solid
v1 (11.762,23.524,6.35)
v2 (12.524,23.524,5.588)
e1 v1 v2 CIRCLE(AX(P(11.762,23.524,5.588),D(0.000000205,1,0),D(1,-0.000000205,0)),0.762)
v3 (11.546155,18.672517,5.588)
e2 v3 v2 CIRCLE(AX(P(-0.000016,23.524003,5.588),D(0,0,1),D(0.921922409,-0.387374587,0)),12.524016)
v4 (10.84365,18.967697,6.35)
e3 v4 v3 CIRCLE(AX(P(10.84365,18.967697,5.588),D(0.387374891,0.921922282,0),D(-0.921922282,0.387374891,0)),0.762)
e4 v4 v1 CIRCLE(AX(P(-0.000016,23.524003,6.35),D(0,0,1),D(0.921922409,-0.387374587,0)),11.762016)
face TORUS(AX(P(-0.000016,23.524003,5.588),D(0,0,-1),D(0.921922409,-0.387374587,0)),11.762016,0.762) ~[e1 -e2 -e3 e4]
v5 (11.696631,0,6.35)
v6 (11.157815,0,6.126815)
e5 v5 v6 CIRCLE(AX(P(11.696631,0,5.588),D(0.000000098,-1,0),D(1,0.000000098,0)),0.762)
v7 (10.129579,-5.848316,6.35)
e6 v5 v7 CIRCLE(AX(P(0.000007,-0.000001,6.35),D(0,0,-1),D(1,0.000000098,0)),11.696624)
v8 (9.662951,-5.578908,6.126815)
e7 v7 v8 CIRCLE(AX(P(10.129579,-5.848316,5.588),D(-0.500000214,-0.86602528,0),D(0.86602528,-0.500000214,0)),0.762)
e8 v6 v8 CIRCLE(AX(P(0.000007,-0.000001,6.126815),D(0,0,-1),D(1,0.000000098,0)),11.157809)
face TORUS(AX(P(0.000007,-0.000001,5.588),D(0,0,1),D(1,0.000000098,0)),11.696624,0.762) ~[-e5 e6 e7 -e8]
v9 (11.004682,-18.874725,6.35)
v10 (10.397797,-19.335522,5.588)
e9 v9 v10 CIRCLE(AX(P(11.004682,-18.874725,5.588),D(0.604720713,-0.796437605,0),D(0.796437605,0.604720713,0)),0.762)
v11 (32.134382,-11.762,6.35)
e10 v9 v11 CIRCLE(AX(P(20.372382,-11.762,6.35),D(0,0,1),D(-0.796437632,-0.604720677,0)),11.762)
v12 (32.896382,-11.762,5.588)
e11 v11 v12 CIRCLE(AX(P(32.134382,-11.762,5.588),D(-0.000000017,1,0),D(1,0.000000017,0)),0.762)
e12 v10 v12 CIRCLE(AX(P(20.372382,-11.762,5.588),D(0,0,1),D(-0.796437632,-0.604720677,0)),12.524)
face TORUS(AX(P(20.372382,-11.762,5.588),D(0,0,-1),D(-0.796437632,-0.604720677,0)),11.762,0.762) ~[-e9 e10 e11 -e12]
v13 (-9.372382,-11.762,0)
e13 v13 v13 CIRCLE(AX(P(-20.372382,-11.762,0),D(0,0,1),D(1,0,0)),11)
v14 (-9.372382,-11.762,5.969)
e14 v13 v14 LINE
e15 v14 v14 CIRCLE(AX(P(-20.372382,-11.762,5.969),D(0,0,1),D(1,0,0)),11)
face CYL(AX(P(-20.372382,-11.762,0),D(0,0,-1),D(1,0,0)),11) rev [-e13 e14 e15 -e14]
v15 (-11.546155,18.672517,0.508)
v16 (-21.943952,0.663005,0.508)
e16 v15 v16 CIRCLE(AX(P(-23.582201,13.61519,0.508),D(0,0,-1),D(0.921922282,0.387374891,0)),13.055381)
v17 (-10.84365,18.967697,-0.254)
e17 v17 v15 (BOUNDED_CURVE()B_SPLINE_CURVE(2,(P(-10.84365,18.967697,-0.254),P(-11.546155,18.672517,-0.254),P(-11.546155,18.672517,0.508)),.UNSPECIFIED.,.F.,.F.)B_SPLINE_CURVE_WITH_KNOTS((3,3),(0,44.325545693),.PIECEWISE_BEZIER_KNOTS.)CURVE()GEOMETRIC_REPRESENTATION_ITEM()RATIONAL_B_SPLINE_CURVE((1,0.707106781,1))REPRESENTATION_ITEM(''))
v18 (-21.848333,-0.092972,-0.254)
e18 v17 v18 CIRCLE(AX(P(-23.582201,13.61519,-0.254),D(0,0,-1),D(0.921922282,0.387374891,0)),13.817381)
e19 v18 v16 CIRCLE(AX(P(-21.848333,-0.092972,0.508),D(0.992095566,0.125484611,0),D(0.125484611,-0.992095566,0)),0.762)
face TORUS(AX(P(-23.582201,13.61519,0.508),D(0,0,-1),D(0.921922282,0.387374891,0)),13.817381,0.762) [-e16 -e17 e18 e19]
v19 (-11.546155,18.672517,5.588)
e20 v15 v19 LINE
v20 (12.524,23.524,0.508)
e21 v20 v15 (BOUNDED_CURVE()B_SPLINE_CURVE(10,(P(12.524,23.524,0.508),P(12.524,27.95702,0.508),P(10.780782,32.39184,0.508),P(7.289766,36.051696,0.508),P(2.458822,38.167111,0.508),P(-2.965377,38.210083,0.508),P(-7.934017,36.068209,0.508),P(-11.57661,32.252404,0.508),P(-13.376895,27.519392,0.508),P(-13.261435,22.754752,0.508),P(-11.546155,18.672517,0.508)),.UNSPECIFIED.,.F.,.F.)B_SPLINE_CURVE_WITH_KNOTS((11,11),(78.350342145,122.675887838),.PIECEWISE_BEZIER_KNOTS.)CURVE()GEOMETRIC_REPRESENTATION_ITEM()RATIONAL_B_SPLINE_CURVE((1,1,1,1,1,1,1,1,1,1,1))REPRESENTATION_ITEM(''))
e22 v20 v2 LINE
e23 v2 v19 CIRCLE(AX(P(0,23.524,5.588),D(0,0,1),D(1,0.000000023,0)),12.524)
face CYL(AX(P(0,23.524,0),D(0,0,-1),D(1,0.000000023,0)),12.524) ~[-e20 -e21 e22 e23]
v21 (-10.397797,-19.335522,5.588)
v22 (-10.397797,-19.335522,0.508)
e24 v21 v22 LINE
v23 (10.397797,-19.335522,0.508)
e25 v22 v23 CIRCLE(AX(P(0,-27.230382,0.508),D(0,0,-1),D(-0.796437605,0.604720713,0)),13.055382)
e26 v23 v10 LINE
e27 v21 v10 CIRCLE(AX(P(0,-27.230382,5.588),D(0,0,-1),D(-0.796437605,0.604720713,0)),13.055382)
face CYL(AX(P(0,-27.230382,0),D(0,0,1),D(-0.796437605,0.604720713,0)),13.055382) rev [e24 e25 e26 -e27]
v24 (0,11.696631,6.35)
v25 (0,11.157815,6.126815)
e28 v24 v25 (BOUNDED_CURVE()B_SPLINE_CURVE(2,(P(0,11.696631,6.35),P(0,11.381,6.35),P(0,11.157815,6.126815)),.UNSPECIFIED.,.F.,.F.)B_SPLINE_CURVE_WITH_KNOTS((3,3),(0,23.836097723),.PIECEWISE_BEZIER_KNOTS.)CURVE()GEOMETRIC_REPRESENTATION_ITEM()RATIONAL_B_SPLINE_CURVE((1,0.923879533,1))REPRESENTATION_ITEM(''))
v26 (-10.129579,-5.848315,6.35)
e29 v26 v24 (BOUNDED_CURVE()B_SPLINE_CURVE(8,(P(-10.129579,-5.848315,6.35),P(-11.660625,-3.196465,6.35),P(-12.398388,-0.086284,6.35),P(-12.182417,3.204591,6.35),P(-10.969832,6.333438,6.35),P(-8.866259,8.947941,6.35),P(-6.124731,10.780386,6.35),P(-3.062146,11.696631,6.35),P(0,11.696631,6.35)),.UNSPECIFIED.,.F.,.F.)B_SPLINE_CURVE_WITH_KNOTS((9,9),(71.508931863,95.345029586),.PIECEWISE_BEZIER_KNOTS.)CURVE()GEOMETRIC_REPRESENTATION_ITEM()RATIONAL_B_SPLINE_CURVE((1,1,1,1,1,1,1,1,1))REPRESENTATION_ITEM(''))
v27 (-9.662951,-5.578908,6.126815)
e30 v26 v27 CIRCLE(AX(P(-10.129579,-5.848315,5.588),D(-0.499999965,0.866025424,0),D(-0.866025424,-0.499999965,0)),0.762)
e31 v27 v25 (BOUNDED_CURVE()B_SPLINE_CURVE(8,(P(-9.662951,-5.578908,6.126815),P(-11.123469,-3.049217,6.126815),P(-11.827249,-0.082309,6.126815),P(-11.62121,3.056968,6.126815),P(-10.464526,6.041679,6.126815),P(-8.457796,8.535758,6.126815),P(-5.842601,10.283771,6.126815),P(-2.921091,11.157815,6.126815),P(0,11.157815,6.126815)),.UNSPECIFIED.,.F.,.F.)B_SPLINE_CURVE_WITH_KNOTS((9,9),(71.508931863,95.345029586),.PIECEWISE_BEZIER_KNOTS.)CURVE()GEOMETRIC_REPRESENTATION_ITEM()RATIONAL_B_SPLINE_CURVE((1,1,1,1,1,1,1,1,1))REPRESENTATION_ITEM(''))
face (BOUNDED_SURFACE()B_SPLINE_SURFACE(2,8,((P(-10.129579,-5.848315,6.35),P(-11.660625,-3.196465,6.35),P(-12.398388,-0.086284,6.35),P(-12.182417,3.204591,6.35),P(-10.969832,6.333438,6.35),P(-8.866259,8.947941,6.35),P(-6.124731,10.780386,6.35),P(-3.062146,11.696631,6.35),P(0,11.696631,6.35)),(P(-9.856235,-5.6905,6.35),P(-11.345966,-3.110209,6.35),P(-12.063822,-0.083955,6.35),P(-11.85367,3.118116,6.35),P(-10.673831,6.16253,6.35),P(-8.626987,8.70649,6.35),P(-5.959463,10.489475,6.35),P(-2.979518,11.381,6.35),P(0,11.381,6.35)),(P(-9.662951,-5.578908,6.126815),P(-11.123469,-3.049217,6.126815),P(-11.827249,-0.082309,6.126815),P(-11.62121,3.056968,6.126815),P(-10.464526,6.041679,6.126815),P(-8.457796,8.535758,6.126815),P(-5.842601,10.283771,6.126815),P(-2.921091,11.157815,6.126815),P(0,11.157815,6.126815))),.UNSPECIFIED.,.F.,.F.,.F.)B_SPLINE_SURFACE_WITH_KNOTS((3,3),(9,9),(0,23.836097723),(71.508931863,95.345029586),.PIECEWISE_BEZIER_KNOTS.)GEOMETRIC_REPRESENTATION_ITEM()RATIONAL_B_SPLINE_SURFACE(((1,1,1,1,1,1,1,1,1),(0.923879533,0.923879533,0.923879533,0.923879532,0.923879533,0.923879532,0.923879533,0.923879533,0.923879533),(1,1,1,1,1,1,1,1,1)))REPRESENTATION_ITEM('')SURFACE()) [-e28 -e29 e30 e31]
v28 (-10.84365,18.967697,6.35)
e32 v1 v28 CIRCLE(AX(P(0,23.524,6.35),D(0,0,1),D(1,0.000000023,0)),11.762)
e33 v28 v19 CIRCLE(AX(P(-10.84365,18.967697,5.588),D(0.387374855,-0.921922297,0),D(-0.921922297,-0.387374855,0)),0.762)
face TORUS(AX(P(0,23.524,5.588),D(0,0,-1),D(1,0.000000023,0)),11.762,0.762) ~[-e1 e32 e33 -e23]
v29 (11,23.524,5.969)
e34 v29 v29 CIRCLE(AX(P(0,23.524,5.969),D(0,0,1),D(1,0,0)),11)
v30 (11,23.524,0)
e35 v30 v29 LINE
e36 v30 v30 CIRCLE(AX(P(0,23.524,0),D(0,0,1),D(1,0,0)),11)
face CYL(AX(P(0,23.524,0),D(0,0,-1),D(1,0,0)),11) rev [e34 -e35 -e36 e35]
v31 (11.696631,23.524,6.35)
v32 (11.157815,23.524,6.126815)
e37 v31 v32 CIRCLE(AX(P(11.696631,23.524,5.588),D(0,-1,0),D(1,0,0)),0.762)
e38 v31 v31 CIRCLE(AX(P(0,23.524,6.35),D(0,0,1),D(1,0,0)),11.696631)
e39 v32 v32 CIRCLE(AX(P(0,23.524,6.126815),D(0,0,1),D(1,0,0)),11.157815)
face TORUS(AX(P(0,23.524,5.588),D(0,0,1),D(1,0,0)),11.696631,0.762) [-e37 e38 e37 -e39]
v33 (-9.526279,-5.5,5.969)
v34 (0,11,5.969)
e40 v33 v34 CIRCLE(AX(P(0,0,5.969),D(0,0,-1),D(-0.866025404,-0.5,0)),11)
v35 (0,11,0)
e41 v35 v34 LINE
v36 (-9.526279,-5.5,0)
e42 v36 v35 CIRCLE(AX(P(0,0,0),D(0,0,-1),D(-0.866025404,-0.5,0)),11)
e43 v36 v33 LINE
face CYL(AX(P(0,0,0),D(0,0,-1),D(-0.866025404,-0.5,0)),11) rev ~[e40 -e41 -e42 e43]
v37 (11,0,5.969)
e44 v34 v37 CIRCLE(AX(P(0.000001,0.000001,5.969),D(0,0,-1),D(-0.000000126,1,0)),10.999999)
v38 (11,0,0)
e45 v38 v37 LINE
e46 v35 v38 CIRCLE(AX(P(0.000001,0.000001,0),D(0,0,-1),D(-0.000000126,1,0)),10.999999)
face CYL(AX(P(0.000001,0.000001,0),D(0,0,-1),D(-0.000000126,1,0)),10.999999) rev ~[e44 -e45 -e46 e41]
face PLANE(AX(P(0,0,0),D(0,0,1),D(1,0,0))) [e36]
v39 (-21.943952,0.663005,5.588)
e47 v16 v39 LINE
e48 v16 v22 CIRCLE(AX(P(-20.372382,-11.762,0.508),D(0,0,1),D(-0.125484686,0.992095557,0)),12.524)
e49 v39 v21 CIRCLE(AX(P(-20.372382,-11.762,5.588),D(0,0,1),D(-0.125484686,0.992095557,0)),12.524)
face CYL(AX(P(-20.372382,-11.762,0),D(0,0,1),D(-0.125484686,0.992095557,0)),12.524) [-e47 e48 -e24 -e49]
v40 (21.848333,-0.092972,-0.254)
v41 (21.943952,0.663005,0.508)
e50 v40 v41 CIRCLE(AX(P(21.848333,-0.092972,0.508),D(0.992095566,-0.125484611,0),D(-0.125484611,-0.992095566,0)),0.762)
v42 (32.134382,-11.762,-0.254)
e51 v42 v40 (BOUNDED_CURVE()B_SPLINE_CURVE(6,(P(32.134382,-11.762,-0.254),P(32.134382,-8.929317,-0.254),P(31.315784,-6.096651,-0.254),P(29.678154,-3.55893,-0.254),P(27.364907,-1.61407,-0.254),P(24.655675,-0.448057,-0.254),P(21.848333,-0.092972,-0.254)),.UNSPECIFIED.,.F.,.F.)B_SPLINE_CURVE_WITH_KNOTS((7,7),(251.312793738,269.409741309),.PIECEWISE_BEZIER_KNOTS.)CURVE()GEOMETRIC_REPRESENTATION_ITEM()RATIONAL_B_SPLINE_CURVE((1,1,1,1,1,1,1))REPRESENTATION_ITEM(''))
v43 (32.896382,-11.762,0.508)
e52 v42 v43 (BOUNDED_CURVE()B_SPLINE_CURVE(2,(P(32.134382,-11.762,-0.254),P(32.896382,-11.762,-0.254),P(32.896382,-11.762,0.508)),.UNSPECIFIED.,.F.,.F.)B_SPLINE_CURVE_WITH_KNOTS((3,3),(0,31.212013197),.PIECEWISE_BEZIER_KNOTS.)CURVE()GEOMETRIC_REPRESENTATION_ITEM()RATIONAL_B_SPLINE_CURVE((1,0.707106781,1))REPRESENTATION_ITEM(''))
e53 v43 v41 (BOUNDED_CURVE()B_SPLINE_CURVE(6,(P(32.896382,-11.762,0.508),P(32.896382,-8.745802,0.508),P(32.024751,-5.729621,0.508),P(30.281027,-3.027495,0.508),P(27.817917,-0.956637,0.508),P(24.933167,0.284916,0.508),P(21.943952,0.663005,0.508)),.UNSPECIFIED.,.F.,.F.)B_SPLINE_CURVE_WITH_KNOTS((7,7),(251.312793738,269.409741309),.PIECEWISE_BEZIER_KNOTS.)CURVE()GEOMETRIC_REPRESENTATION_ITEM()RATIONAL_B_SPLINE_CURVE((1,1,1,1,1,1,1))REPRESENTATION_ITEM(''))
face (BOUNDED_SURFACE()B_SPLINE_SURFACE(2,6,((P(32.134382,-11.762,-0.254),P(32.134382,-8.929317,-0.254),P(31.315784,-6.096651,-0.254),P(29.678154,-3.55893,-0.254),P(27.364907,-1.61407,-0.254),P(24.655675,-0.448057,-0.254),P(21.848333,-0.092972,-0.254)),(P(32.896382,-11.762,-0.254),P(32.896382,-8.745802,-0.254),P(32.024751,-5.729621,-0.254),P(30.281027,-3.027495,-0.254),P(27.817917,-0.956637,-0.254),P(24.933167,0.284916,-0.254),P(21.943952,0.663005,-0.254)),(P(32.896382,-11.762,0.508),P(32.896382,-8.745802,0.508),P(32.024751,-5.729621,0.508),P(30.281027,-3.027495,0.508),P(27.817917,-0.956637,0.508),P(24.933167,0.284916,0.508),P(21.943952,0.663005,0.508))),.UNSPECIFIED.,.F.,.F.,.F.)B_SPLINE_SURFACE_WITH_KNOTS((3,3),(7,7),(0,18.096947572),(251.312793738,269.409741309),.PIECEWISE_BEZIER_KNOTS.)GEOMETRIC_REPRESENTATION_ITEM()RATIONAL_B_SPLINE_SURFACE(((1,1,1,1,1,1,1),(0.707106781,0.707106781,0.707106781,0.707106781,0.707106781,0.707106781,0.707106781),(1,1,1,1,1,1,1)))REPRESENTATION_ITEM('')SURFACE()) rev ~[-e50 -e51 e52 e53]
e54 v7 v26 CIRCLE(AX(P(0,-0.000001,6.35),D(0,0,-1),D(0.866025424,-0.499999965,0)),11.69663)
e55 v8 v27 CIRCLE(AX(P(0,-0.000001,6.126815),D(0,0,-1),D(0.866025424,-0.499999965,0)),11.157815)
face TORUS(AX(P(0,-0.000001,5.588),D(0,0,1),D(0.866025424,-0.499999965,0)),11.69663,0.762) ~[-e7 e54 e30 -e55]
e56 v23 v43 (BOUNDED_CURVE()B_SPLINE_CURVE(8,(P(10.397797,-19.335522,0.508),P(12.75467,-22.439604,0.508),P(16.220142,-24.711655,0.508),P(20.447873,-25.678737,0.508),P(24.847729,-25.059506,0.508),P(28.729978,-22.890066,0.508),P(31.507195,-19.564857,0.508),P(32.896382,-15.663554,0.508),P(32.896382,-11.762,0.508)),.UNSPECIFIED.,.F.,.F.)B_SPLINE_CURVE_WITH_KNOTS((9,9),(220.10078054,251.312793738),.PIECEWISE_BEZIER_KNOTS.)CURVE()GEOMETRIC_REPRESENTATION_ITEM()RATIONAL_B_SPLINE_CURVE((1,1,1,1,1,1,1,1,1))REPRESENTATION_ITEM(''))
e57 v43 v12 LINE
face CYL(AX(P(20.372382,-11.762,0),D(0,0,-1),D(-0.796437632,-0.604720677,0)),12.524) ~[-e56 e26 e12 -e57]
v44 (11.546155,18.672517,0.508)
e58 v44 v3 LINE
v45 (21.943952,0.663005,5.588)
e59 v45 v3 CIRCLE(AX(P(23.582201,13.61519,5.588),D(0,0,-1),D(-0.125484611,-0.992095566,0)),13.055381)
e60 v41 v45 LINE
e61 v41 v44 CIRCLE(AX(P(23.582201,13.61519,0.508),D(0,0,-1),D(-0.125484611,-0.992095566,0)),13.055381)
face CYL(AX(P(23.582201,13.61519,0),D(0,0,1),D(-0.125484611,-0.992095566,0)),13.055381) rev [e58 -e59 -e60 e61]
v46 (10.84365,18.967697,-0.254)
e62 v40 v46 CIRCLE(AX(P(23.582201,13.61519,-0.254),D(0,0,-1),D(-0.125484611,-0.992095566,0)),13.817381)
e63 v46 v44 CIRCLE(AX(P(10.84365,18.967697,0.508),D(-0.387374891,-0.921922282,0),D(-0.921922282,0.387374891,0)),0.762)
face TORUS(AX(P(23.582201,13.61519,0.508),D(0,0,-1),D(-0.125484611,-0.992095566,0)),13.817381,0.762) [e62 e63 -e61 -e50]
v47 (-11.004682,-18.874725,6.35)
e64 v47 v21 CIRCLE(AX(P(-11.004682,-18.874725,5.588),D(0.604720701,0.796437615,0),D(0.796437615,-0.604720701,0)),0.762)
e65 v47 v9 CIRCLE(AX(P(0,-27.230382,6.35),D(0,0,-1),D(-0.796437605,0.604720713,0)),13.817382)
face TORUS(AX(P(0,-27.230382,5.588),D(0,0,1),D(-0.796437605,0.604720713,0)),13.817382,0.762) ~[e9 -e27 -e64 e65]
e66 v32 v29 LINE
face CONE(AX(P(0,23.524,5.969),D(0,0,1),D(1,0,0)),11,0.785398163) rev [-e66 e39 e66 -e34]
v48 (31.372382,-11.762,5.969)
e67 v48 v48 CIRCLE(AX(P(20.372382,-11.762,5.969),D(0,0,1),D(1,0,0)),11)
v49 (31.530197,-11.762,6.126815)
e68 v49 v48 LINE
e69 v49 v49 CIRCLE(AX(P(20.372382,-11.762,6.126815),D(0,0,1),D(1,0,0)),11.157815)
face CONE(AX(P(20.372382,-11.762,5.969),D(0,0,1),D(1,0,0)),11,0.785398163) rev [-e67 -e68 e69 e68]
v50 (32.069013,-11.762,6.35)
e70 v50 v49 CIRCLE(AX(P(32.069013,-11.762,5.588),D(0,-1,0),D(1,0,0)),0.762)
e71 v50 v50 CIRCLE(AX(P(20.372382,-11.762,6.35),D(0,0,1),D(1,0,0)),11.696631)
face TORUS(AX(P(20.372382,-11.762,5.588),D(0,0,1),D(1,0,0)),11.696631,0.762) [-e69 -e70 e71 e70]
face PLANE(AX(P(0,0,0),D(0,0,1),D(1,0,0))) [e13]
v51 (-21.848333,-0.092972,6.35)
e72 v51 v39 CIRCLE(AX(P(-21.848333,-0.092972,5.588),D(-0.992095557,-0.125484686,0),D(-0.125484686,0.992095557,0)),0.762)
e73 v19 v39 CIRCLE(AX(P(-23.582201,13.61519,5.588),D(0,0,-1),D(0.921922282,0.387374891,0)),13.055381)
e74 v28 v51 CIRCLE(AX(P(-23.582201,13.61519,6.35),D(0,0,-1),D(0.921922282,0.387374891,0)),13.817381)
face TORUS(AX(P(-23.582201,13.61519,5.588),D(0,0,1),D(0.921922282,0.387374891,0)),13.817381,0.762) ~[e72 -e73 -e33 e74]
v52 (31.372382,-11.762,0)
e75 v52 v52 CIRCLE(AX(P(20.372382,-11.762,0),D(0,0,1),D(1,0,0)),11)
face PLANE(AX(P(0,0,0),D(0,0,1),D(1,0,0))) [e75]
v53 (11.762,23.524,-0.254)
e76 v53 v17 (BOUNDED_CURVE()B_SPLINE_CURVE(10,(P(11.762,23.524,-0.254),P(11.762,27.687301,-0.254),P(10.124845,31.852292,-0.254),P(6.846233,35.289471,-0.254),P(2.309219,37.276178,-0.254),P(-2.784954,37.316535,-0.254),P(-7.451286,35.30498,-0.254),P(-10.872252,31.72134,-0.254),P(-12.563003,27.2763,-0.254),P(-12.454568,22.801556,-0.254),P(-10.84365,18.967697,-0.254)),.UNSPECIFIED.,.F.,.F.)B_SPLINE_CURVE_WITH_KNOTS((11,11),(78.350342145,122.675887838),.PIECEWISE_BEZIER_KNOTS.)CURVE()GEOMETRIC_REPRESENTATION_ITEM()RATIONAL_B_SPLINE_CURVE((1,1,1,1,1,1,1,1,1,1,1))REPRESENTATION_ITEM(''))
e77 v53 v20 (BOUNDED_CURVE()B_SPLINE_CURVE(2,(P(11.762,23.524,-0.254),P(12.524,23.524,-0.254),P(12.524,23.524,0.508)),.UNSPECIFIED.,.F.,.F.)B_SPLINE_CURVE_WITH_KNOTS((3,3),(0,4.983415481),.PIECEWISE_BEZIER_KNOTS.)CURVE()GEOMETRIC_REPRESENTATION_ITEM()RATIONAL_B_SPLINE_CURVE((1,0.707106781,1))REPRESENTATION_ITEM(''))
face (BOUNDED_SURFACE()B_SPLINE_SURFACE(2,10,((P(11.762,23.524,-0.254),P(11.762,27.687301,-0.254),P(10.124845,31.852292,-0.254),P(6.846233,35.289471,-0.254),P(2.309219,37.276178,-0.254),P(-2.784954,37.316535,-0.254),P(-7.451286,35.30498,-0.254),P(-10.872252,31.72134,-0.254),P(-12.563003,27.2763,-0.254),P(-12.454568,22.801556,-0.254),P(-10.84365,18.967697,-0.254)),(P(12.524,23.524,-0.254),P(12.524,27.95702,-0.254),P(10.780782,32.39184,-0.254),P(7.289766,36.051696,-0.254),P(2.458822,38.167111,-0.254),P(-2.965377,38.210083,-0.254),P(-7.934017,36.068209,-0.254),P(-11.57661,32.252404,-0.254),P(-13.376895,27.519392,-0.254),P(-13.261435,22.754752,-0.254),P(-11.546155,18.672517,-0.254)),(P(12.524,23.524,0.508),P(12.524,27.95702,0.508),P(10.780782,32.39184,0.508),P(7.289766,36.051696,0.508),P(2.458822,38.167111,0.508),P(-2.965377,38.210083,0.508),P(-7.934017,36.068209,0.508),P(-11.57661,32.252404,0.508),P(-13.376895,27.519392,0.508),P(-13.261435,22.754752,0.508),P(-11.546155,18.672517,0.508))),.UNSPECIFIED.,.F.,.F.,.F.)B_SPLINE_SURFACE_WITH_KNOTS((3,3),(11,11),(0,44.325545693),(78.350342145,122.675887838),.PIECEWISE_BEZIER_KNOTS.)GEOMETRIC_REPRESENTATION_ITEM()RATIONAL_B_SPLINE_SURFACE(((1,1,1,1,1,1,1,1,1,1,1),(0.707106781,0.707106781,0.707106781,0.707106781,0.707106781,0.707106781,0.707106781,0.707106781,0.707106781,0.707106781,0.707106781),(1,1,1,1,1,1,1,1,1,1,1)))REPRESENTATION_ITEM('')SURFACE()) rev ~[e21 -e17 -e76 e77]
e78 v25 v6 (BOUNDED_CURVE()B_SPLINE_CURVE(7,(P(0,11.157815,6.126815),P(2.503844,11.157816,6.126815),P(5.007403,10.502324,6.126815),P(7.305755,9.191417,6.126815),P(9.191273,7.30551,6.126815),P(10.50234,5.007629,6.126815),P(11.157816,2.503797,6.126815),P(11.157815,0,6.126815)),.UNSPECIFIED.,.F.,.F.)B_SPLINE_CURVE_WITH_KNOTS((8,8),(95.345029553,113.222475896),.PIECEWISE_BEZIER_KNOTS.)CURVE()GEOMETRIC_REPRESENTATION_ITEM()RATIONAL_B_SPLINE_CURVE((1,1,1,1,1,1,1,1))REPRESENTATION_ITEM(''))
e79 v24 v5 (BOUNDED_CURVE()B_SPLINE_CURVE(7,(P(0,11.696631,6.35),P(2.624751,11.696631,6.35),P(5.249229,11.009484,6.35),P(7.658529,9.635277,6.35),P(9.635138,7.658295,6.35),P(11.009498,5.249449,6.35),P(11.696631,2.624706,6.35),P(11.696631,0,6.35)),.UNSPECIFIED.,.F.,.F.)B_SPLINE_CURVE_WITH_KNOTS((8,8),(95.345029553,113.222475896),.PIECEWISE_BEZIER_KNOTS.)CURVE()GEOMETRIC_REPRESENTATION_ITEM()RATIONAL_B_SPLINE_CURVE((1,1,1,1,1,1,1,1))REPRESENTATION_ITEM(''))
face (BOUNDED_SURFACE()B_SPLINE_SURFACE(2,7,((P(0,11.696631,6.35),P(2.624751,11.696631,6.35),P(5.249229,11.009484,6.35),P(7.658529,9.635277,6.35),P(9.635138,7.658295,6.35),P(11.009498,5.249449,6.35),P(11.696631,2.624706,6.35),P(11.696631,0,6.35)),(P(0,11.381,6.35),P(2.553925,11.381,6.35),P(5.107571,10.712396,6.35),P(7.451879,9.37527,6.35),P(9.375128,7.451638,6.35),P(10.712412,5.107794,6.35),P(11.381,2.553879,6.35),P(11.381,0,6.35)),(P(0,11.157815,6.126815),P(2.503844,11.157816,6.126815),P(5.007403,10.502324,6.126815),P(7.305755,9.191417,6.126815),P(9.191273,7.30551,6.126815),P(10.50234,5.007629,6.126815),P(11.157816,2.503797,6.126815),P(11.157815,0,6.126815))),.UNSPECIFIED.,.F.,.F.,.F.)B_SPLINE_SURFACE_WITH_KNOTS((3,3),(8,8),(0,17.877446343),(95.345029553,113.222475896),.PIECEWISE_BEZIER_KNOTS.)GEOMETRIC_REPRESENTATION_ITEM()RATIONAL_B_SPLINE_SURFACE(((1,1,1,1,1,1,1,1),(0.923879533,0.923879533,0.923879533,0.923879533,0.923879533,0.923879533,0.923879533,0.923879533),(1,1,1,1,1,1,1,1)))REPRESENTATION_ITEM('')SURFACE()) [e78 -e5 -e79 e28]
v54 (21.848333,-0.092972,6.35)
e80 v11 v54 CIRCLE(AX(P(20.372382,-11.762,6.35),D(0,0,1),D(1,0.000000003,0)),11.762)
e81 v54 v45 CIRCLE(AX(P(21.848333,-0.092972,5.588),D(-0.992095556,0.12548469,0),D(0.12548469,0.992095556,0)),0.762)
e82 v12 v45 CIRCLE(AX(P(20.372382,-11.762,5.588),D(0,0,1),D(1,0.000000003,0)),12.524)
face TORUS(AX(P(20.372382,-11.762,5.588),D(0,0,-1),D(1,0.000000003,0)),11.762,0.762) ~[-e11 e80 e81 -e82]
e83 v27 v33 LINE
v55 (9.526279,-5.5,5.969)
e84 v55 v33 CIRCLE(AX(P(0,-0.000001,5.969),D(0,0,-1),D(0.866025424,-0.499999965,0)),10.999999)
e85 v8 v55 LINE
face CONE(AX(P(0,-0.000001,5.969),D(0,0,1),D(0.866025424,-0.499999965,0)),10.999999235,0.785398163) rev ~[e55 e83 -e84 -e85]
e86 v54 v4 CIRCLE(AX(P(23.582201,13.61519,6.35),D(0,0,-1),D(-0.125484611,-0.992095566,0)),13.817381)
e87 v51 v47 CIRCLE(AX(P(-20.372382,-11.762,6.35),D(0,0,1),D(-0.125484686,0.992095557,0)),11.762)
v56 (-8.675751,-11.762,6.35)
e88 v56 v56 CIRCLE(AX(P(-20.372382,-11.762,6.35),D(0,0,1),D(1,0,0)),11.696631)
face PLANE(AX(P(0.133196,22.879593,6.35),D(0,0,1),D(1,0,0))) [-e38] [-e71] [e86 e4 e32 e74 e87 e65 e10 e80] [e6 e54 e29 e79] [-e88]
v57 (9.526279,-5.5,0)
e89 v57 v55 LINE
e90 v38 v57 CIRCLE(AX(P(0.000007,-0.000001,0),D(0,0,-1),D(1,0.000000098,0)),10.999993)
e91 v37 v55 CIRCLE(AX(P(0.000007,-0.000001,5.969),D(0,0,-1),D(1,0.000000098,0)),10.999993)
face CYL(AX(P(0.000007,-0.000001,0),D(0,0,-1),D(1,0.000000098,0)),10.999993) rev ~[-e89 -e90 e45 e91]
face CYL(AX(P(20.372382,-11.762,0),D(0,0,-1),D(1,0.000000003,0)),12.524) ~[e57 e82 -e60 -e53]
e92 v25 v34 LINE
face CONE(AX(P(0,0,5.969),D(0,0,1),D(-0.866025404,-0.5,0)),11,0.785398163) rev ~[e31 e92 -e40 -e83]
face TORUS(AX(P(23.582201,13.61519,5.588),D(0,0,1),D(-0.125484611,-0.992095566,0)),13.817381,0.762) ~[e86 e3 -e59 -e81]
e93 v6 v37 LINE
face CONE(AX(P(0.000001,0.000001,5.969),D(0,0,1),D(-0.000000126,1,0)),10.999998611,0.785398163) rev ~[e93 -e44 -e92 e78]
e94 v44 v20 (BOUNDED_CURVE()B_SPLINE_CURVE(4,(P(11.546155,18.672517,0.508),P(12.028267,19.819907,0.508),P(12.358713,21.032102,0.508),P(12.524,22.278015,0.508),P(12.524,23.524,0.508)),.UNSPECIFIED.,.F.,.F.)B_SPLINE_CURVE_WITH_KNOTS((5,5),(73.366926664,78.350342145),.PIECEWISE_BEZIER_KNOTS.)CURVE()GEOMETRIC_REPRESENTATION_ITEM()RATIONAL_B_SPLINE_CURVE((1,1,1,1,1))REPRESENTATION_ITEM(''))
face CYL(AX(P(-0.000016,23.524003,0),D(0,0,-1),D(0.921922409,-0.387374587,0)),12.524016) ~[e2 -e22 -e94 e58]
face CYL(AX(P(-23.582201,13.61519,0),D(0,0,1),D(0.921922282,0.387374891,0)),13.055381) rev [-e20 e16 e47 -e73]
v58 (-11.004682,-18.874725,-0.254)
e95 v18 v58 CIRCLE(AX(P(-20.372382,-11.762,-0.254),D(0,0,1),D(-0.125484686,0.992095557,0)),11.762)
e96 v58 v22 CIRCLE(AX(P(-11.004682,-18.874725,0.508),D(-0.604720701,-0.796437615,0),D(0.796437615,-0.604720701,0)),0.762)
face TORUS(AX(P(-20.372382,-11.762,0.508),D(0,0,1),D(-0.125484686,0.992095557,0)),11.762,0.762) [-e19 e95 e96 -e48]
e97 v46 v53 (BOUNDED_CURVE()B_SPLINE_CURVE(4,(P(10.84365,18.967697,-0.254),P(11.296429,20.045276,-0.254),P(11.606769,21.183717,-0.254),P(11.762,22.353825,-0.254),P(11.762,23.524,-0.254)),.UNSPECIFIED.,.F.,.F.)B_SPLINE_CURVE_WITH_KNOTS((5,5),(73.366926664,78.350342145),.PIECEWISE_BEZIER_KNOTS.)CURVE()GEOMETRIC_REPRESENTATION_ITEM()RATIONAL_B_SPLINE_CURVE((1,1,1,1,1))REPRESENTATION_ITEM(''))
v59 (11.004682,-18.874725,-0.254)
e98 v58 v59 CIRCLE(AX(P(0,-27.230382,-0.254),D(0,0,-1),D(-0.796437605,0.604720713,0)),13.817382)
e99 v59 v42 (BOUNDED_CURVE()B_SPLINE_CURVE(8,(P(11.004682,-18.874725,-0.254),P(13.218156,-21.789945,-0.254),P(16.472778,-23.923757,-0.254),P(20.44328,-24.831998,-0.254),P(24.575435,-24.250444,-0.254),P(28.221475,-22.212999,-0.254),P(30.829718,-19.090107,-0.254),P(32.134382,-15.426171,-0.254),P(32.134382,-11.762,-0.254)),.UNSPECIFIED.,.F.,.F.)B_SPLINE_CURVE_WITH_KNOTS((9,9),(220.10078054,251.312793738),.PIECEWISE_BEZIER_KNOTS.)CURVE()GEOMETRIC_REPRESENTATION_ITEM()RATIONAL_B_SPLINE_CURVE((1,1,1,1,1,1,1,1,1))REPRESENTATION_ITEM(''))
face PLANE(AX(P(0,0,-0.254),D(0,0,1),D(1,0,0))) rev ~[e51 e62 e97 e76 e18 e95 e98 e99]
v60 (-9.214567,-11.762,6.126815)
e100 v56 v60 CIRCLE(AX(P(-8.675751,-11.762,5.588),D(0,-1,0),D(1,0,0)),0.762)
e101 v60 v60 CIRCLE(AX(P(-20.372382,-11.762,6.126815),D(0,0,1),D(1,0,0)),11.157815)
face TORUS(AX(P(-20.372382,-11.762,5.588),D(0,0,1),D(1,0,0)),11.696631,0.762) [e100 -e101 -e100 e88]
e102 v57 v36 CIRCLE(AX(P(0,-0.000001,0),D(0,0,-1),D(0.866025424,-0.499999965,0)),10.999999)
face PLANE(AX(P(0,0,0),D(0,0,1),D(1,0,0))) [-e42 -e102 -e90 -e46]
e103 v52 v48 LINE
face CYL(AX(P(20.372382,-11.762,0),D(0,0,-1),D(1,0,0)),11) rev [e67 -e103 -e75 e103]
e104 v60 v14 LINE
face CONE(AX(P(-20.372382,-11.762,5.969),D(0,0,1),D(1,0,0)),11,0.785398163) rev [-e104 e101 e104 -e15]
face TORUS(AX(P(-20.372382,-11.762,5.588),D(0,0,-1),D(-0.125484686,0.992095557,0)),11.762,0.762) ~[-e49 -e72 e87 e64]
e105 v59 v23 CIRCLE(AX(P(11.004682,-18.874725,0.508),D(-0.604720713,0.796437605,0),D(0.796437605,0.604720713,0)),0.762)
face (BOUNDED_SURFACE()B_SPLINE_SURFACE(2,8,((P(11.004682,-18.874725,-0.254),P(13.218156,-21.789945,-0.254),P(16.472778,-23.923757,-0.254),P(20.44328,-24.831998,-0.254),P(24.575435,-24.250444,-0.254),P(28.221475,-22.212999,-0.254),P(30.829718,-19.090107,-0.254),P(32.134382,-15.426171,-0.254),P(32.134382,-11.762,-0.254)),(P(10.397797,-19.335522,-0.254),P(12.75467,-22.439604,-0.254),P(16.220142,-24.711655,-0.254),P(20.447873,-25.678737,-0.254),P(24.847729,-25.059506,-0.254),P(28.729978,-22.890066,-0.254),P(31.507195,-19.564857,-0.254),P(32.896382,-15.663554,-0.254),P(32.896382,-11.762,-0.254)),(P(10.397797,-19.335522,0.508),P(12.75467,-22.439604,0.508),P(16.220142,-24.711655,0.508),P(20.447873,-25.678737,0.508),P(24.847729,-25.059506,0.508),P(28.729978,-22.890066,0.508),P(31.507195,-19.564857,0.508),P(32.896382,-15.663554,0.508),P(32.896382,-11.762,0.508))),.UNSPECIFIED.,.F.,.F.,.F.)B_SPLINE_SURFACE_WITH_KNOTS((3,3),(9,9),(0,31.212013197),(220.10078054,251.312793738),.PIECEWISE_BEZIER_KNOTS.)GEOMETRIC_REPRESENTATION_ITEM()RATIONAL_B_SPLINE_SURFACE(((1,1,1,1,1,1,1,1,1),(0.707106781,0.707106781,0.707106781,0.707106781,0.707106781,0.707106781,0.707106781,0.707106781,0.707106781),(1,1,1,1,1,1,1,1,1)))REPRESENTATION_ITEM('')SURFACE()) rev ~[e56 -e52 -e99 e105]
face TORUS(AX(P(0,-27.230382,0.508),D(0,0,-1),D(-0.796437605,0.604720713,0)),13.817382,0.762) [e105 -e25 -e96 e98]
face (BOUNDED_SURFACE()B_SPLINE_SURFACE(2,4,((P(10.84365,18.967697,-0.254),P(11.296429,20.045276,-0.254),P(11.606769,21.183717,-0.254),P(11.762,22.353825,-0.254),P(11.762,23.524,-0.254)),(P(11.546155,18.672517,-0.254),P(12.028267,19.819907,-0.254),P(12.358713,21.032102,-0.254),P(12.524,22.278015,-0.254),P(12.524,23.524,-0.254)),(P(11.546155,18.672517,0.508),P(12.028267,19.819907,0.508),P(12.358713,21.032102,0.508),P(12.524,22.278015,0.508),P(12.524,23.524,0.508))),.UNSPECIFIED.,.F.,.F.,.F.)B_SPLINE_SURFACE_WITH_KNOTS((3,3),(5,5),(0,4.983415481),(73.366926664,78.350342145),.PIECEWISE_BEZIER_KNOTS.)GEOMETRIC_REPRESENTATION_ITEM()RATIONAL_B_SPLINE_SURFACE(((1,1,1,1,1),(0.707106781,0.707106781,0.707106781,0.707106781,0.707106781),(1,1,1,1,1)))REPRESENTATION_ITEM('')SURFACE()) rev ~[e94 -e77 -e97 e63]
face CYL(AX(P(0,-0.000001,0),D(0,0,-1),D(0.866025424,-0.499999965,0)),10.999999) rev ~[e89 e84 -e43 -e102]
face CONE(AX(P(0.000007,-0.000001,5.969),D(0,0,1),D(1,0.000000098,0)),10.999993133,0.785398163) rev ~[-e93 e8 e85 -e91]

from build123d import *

# Parameters (mm, degrees)
F0_R     = 11
F1_DEPTH = 6.35
F3_DEPTH = 0.254
F4_SIZE  = 0.381
F5_R     = 0.762
F6_R     = 0.762


with BuildPart() as f1:
    # F0 (on Top) → F1 (new body)
    with BuildSketch(Plane.XY):
        with BuildLine():
            ThreePointArc((-4.301852, 11.762), (-2.184409, 11.191971), (0, 11))
            ThreePointArc((0, 11), (2.184409, 11.191971), (4.301852, 11.762))
            ThreePointArc((4.301852, 11.762), (8.644573, 14.461885), (11.546155, 18.672517))
            ThreePointArc((11.546155, 18.672517), (12.277105, 21.049477), (12.524, 23.524))
            ThreePointArc((12.524, 23.524), (-2.474523, 35.801105), (-11.546155, 18.672517))
            ThreePointArc((-11.546155, 18.672517), (-8.644573, 14.461885), (-4.301852, 11.762))
        make_face()
        with Locations((0, 23.524)):
            Circle(F0_R, mode=Mode.SUBTRACT)
        with BuildLine():
            ThreePointArc((-9.526279, -5.5), (-9.526279, 5.5), (0, 11))
            ThreePointArc((0, 11), (-2.184409, 11.191971), (-4.301852, 11.762))
            ThreePointArc((-4.301852, 11.762), (-10.846102, 6.262), (-12.337117, -2.155487))
            ThreePointArc((-12.337117, -2.155487), (-10.784736, -3.704232), (-9.526279, -5.5))
        make_face()
        with BuildLine():
            ThreePointArc((0, 11), (7.778175, 7.778175), (11, 0))
            ThreePointArc((11, 0), (10.625184, -2.84701), (9.526279, -5.5))
            ThreePointArc((9.526279, -5.5), (10.784736, -3.704232), (12.337117, -2.155487))
            ThreePointArc((12.337117, -2.155487), (10.846102, 6.262), (4.301852, 11.762))
            ThreePointArc((4.301852, 11.762), (2.184409, 11.191971), (0, 11))
        make_face()
        with BuildLine():
            ThreePointArc((8.035265, -9.606513), (8.600327, -7.48774), (9.526279, -5.5))
            ThreePointArc((9.526279, -5.5), (0, -11), (-9.526279, -5.5))
            ThreePointArc((-9.526279, -5.5), (-8.600327, -7.48774), (-8.035265, -9.606513))
            ThreePointArc((-8.035265, -9.606513), (0, -12.524), (8.035265, -9.606513))
        make_face()
        with BuildLine():
            ThreePointArc((12.337117, -2.155487), (10.784736, -3.704232), (9.526279, -5.5))
            ThreePointArc((9.526279, -5.5), (8.600327, -7.48774), (8.035265, -9.606513))
            ThreePointArc((8.035265, -9.606513), (8.202073, -14.717362), (10.397797, -19.335522))
            ThreePointArc((10.397797, -19.335522), (24.367934, -23.631547), (32.896382, -11.762))
            ThreePointArc((32.896382, -11.762), (29.767405, -3.480447), (21.943952, 0.663005))
            ThreePointArc((21.943952, 0.663005), (16.846646, 0.255478), (12.337117, -2.155487))
        make_face()
        with Locations((20.372382, -11.762)):
            Circle(F0_R, mode=Mode.SUBTRACT)
        with BuildLine():
            ThreePointArc((-8.035265, -9.606513), (-8.600327, -7.48774), (-9.526279, -5.5))
            ThreePointArc((-9.526279, -5.5), (-10.784736, -3.704232), (-12.337117, -2.155487))
            ThreePointArc((-12.337117, -2.155487), (-16.846646, 0.255478), (-21.943952, 0.663005))
            ThreePointArc((-21.943952, 0.663005), (-31.218484, -18.024), (-10.397797, -19.335522))
            ThreePointArc((-10.397797, -19.335522), (-8.502835, -15.757552), (-7.848382, -11.762))
            ThreePointArc((-7.848382, -11.762), (-7.89519, -10.680213), (-8.035265, -9.606513))
        make_face()
        with Locations((-20.372382, -11.762)):
            Circle(F0_R, mode=Mode.SUBTRACT)
        with BuildLine():
            ThreePointArc((-12.337117, -2.155487), (-10.846102, 6.262), (-4.301852, 11.762))
            ThreePointArc((-4.301852, 11.762), (-8.644573, 14.461885), (-11.546155, 18.672517))
            ThreePointArc((-11.546155, 18.672517), (-12.27591, 7.0875), (-21.943952, 0.663005))
            ThreePointArc((-21.943952, 0.663005), (-16.846646, 0.255478), (-12.337117, -2.155487))
        make_face()
        with BuildLine():
            ThreePointArc((11.546155, 18.672517), (8.644573, 14.461885), (4.301852, 11.762))
            ThreePointArc((4.301852, 11.762), (10.846102, 6.262), (12.337117, -2.155487))
            ThreePointArc((12.337117, -2.155487), (16.846646, 0.255478), (21.943952, 0.663005))
            ThreePointArc((21.943952, 0.663005), (12.27591, 7.0875), (11.546155, 18.672517))
        make_face()
        with BuildLine():
            ThreePointArc((10.397797, -19.335522), (8.202073, -14.717362), (8.035265, -9.606513))
            ThreePointArc((8.035265, -9.606513), (0, -12.524), (-8.035265, -9.606513))
            ThreePointArc((-8.035265, -9.606513), (-7.89519, -10.680213), (-7.848382, -11.762))
            ThreePointArc((-7.848382, -11.762), (-8.502835, -15.757552), (-10.397797, -19.335522))
            ThreePointArc((-10.397797, -19.335522), (0, -14.175), (10.397797, -19.335522))
        make_face()
    extrude(amount=F1_DEPTH)

    # F2 (on Top) → F3 (join)
    with BuildSketch(Plane.XY):
        with BuildLine():
            ThreePointArc((21.943952, 0.663005), (12.27591, 7.0875), (11.546155, 18.672517))
            ThreePointArc((11.546155, 18.672517), (0, 36.048), (-11.546155, 18.672517))
            ThreePointArc((-11.546155, 18.672517), (-12.27591, 7.0875), (-21.943952, 0.663005))
            ThreePointArc((-21.943952, 0.663005), (-31.218484, -18.024), (-10.397797, -19.335522))
            ThreePointArc((-10.397797, -19.335522), (0, -14.175), (10.397797, -19.335522))
            ThreePointArc((10.397797, -19.335522), (31.218484, -18.024), (21.943952, 0.663005))
        make_face()
    extrude(amount=-F3_DEPTH)

    # F4
    f4_edges = [f1.edges().sort_by_distance(p)[0] for p in [
        (-9.526279, 5.5, 6.35),
        (9.372382, -11.762, 6.35),
        (-31.372382, -11.762, 6.35),
        (-11, 23.524, 6.35),
    ]]
    chamfer(f4_edges, length=F4_SIZE)

    # F5
    f5_edges = [f1.edges().sort_by_distance(p)[0] for p in [
        (-9.856235, 5.6905, 6.35),
        (-31.218484, -18.024, 6.35),
        (0, -14.175, 6.35),
        (31.218484, -18.024, 6.35),
        (12.27591, 7.0875, 6.35),
        (0, 36.048, 6.35),
        (-12.27591, 7.0875, 6.35),
        (8.991382, -11.762, 6.35),
        (-31.753382, -11.762, 6.35),
        (-11.381, 23.524, 6.35),
    ]]
    fillet(f5_edges, radius=F5_R)

    # F6
    f6_edges = [f1.edges().sort_by_distance(p)[0] for p in [
        (31.218484, -18.024, -0.254),
        (12.27591, 7.0875, -0.254),
        (0, 36.048, -0.254),
        (-12.27591, 7.0875, -0.254),
        (-31.218484, -18.024, -0.254),
        (0, -14.175, -0.254),
    ]]
    fillet(f6_edges, radius=F6_R)


solid = f1.part
